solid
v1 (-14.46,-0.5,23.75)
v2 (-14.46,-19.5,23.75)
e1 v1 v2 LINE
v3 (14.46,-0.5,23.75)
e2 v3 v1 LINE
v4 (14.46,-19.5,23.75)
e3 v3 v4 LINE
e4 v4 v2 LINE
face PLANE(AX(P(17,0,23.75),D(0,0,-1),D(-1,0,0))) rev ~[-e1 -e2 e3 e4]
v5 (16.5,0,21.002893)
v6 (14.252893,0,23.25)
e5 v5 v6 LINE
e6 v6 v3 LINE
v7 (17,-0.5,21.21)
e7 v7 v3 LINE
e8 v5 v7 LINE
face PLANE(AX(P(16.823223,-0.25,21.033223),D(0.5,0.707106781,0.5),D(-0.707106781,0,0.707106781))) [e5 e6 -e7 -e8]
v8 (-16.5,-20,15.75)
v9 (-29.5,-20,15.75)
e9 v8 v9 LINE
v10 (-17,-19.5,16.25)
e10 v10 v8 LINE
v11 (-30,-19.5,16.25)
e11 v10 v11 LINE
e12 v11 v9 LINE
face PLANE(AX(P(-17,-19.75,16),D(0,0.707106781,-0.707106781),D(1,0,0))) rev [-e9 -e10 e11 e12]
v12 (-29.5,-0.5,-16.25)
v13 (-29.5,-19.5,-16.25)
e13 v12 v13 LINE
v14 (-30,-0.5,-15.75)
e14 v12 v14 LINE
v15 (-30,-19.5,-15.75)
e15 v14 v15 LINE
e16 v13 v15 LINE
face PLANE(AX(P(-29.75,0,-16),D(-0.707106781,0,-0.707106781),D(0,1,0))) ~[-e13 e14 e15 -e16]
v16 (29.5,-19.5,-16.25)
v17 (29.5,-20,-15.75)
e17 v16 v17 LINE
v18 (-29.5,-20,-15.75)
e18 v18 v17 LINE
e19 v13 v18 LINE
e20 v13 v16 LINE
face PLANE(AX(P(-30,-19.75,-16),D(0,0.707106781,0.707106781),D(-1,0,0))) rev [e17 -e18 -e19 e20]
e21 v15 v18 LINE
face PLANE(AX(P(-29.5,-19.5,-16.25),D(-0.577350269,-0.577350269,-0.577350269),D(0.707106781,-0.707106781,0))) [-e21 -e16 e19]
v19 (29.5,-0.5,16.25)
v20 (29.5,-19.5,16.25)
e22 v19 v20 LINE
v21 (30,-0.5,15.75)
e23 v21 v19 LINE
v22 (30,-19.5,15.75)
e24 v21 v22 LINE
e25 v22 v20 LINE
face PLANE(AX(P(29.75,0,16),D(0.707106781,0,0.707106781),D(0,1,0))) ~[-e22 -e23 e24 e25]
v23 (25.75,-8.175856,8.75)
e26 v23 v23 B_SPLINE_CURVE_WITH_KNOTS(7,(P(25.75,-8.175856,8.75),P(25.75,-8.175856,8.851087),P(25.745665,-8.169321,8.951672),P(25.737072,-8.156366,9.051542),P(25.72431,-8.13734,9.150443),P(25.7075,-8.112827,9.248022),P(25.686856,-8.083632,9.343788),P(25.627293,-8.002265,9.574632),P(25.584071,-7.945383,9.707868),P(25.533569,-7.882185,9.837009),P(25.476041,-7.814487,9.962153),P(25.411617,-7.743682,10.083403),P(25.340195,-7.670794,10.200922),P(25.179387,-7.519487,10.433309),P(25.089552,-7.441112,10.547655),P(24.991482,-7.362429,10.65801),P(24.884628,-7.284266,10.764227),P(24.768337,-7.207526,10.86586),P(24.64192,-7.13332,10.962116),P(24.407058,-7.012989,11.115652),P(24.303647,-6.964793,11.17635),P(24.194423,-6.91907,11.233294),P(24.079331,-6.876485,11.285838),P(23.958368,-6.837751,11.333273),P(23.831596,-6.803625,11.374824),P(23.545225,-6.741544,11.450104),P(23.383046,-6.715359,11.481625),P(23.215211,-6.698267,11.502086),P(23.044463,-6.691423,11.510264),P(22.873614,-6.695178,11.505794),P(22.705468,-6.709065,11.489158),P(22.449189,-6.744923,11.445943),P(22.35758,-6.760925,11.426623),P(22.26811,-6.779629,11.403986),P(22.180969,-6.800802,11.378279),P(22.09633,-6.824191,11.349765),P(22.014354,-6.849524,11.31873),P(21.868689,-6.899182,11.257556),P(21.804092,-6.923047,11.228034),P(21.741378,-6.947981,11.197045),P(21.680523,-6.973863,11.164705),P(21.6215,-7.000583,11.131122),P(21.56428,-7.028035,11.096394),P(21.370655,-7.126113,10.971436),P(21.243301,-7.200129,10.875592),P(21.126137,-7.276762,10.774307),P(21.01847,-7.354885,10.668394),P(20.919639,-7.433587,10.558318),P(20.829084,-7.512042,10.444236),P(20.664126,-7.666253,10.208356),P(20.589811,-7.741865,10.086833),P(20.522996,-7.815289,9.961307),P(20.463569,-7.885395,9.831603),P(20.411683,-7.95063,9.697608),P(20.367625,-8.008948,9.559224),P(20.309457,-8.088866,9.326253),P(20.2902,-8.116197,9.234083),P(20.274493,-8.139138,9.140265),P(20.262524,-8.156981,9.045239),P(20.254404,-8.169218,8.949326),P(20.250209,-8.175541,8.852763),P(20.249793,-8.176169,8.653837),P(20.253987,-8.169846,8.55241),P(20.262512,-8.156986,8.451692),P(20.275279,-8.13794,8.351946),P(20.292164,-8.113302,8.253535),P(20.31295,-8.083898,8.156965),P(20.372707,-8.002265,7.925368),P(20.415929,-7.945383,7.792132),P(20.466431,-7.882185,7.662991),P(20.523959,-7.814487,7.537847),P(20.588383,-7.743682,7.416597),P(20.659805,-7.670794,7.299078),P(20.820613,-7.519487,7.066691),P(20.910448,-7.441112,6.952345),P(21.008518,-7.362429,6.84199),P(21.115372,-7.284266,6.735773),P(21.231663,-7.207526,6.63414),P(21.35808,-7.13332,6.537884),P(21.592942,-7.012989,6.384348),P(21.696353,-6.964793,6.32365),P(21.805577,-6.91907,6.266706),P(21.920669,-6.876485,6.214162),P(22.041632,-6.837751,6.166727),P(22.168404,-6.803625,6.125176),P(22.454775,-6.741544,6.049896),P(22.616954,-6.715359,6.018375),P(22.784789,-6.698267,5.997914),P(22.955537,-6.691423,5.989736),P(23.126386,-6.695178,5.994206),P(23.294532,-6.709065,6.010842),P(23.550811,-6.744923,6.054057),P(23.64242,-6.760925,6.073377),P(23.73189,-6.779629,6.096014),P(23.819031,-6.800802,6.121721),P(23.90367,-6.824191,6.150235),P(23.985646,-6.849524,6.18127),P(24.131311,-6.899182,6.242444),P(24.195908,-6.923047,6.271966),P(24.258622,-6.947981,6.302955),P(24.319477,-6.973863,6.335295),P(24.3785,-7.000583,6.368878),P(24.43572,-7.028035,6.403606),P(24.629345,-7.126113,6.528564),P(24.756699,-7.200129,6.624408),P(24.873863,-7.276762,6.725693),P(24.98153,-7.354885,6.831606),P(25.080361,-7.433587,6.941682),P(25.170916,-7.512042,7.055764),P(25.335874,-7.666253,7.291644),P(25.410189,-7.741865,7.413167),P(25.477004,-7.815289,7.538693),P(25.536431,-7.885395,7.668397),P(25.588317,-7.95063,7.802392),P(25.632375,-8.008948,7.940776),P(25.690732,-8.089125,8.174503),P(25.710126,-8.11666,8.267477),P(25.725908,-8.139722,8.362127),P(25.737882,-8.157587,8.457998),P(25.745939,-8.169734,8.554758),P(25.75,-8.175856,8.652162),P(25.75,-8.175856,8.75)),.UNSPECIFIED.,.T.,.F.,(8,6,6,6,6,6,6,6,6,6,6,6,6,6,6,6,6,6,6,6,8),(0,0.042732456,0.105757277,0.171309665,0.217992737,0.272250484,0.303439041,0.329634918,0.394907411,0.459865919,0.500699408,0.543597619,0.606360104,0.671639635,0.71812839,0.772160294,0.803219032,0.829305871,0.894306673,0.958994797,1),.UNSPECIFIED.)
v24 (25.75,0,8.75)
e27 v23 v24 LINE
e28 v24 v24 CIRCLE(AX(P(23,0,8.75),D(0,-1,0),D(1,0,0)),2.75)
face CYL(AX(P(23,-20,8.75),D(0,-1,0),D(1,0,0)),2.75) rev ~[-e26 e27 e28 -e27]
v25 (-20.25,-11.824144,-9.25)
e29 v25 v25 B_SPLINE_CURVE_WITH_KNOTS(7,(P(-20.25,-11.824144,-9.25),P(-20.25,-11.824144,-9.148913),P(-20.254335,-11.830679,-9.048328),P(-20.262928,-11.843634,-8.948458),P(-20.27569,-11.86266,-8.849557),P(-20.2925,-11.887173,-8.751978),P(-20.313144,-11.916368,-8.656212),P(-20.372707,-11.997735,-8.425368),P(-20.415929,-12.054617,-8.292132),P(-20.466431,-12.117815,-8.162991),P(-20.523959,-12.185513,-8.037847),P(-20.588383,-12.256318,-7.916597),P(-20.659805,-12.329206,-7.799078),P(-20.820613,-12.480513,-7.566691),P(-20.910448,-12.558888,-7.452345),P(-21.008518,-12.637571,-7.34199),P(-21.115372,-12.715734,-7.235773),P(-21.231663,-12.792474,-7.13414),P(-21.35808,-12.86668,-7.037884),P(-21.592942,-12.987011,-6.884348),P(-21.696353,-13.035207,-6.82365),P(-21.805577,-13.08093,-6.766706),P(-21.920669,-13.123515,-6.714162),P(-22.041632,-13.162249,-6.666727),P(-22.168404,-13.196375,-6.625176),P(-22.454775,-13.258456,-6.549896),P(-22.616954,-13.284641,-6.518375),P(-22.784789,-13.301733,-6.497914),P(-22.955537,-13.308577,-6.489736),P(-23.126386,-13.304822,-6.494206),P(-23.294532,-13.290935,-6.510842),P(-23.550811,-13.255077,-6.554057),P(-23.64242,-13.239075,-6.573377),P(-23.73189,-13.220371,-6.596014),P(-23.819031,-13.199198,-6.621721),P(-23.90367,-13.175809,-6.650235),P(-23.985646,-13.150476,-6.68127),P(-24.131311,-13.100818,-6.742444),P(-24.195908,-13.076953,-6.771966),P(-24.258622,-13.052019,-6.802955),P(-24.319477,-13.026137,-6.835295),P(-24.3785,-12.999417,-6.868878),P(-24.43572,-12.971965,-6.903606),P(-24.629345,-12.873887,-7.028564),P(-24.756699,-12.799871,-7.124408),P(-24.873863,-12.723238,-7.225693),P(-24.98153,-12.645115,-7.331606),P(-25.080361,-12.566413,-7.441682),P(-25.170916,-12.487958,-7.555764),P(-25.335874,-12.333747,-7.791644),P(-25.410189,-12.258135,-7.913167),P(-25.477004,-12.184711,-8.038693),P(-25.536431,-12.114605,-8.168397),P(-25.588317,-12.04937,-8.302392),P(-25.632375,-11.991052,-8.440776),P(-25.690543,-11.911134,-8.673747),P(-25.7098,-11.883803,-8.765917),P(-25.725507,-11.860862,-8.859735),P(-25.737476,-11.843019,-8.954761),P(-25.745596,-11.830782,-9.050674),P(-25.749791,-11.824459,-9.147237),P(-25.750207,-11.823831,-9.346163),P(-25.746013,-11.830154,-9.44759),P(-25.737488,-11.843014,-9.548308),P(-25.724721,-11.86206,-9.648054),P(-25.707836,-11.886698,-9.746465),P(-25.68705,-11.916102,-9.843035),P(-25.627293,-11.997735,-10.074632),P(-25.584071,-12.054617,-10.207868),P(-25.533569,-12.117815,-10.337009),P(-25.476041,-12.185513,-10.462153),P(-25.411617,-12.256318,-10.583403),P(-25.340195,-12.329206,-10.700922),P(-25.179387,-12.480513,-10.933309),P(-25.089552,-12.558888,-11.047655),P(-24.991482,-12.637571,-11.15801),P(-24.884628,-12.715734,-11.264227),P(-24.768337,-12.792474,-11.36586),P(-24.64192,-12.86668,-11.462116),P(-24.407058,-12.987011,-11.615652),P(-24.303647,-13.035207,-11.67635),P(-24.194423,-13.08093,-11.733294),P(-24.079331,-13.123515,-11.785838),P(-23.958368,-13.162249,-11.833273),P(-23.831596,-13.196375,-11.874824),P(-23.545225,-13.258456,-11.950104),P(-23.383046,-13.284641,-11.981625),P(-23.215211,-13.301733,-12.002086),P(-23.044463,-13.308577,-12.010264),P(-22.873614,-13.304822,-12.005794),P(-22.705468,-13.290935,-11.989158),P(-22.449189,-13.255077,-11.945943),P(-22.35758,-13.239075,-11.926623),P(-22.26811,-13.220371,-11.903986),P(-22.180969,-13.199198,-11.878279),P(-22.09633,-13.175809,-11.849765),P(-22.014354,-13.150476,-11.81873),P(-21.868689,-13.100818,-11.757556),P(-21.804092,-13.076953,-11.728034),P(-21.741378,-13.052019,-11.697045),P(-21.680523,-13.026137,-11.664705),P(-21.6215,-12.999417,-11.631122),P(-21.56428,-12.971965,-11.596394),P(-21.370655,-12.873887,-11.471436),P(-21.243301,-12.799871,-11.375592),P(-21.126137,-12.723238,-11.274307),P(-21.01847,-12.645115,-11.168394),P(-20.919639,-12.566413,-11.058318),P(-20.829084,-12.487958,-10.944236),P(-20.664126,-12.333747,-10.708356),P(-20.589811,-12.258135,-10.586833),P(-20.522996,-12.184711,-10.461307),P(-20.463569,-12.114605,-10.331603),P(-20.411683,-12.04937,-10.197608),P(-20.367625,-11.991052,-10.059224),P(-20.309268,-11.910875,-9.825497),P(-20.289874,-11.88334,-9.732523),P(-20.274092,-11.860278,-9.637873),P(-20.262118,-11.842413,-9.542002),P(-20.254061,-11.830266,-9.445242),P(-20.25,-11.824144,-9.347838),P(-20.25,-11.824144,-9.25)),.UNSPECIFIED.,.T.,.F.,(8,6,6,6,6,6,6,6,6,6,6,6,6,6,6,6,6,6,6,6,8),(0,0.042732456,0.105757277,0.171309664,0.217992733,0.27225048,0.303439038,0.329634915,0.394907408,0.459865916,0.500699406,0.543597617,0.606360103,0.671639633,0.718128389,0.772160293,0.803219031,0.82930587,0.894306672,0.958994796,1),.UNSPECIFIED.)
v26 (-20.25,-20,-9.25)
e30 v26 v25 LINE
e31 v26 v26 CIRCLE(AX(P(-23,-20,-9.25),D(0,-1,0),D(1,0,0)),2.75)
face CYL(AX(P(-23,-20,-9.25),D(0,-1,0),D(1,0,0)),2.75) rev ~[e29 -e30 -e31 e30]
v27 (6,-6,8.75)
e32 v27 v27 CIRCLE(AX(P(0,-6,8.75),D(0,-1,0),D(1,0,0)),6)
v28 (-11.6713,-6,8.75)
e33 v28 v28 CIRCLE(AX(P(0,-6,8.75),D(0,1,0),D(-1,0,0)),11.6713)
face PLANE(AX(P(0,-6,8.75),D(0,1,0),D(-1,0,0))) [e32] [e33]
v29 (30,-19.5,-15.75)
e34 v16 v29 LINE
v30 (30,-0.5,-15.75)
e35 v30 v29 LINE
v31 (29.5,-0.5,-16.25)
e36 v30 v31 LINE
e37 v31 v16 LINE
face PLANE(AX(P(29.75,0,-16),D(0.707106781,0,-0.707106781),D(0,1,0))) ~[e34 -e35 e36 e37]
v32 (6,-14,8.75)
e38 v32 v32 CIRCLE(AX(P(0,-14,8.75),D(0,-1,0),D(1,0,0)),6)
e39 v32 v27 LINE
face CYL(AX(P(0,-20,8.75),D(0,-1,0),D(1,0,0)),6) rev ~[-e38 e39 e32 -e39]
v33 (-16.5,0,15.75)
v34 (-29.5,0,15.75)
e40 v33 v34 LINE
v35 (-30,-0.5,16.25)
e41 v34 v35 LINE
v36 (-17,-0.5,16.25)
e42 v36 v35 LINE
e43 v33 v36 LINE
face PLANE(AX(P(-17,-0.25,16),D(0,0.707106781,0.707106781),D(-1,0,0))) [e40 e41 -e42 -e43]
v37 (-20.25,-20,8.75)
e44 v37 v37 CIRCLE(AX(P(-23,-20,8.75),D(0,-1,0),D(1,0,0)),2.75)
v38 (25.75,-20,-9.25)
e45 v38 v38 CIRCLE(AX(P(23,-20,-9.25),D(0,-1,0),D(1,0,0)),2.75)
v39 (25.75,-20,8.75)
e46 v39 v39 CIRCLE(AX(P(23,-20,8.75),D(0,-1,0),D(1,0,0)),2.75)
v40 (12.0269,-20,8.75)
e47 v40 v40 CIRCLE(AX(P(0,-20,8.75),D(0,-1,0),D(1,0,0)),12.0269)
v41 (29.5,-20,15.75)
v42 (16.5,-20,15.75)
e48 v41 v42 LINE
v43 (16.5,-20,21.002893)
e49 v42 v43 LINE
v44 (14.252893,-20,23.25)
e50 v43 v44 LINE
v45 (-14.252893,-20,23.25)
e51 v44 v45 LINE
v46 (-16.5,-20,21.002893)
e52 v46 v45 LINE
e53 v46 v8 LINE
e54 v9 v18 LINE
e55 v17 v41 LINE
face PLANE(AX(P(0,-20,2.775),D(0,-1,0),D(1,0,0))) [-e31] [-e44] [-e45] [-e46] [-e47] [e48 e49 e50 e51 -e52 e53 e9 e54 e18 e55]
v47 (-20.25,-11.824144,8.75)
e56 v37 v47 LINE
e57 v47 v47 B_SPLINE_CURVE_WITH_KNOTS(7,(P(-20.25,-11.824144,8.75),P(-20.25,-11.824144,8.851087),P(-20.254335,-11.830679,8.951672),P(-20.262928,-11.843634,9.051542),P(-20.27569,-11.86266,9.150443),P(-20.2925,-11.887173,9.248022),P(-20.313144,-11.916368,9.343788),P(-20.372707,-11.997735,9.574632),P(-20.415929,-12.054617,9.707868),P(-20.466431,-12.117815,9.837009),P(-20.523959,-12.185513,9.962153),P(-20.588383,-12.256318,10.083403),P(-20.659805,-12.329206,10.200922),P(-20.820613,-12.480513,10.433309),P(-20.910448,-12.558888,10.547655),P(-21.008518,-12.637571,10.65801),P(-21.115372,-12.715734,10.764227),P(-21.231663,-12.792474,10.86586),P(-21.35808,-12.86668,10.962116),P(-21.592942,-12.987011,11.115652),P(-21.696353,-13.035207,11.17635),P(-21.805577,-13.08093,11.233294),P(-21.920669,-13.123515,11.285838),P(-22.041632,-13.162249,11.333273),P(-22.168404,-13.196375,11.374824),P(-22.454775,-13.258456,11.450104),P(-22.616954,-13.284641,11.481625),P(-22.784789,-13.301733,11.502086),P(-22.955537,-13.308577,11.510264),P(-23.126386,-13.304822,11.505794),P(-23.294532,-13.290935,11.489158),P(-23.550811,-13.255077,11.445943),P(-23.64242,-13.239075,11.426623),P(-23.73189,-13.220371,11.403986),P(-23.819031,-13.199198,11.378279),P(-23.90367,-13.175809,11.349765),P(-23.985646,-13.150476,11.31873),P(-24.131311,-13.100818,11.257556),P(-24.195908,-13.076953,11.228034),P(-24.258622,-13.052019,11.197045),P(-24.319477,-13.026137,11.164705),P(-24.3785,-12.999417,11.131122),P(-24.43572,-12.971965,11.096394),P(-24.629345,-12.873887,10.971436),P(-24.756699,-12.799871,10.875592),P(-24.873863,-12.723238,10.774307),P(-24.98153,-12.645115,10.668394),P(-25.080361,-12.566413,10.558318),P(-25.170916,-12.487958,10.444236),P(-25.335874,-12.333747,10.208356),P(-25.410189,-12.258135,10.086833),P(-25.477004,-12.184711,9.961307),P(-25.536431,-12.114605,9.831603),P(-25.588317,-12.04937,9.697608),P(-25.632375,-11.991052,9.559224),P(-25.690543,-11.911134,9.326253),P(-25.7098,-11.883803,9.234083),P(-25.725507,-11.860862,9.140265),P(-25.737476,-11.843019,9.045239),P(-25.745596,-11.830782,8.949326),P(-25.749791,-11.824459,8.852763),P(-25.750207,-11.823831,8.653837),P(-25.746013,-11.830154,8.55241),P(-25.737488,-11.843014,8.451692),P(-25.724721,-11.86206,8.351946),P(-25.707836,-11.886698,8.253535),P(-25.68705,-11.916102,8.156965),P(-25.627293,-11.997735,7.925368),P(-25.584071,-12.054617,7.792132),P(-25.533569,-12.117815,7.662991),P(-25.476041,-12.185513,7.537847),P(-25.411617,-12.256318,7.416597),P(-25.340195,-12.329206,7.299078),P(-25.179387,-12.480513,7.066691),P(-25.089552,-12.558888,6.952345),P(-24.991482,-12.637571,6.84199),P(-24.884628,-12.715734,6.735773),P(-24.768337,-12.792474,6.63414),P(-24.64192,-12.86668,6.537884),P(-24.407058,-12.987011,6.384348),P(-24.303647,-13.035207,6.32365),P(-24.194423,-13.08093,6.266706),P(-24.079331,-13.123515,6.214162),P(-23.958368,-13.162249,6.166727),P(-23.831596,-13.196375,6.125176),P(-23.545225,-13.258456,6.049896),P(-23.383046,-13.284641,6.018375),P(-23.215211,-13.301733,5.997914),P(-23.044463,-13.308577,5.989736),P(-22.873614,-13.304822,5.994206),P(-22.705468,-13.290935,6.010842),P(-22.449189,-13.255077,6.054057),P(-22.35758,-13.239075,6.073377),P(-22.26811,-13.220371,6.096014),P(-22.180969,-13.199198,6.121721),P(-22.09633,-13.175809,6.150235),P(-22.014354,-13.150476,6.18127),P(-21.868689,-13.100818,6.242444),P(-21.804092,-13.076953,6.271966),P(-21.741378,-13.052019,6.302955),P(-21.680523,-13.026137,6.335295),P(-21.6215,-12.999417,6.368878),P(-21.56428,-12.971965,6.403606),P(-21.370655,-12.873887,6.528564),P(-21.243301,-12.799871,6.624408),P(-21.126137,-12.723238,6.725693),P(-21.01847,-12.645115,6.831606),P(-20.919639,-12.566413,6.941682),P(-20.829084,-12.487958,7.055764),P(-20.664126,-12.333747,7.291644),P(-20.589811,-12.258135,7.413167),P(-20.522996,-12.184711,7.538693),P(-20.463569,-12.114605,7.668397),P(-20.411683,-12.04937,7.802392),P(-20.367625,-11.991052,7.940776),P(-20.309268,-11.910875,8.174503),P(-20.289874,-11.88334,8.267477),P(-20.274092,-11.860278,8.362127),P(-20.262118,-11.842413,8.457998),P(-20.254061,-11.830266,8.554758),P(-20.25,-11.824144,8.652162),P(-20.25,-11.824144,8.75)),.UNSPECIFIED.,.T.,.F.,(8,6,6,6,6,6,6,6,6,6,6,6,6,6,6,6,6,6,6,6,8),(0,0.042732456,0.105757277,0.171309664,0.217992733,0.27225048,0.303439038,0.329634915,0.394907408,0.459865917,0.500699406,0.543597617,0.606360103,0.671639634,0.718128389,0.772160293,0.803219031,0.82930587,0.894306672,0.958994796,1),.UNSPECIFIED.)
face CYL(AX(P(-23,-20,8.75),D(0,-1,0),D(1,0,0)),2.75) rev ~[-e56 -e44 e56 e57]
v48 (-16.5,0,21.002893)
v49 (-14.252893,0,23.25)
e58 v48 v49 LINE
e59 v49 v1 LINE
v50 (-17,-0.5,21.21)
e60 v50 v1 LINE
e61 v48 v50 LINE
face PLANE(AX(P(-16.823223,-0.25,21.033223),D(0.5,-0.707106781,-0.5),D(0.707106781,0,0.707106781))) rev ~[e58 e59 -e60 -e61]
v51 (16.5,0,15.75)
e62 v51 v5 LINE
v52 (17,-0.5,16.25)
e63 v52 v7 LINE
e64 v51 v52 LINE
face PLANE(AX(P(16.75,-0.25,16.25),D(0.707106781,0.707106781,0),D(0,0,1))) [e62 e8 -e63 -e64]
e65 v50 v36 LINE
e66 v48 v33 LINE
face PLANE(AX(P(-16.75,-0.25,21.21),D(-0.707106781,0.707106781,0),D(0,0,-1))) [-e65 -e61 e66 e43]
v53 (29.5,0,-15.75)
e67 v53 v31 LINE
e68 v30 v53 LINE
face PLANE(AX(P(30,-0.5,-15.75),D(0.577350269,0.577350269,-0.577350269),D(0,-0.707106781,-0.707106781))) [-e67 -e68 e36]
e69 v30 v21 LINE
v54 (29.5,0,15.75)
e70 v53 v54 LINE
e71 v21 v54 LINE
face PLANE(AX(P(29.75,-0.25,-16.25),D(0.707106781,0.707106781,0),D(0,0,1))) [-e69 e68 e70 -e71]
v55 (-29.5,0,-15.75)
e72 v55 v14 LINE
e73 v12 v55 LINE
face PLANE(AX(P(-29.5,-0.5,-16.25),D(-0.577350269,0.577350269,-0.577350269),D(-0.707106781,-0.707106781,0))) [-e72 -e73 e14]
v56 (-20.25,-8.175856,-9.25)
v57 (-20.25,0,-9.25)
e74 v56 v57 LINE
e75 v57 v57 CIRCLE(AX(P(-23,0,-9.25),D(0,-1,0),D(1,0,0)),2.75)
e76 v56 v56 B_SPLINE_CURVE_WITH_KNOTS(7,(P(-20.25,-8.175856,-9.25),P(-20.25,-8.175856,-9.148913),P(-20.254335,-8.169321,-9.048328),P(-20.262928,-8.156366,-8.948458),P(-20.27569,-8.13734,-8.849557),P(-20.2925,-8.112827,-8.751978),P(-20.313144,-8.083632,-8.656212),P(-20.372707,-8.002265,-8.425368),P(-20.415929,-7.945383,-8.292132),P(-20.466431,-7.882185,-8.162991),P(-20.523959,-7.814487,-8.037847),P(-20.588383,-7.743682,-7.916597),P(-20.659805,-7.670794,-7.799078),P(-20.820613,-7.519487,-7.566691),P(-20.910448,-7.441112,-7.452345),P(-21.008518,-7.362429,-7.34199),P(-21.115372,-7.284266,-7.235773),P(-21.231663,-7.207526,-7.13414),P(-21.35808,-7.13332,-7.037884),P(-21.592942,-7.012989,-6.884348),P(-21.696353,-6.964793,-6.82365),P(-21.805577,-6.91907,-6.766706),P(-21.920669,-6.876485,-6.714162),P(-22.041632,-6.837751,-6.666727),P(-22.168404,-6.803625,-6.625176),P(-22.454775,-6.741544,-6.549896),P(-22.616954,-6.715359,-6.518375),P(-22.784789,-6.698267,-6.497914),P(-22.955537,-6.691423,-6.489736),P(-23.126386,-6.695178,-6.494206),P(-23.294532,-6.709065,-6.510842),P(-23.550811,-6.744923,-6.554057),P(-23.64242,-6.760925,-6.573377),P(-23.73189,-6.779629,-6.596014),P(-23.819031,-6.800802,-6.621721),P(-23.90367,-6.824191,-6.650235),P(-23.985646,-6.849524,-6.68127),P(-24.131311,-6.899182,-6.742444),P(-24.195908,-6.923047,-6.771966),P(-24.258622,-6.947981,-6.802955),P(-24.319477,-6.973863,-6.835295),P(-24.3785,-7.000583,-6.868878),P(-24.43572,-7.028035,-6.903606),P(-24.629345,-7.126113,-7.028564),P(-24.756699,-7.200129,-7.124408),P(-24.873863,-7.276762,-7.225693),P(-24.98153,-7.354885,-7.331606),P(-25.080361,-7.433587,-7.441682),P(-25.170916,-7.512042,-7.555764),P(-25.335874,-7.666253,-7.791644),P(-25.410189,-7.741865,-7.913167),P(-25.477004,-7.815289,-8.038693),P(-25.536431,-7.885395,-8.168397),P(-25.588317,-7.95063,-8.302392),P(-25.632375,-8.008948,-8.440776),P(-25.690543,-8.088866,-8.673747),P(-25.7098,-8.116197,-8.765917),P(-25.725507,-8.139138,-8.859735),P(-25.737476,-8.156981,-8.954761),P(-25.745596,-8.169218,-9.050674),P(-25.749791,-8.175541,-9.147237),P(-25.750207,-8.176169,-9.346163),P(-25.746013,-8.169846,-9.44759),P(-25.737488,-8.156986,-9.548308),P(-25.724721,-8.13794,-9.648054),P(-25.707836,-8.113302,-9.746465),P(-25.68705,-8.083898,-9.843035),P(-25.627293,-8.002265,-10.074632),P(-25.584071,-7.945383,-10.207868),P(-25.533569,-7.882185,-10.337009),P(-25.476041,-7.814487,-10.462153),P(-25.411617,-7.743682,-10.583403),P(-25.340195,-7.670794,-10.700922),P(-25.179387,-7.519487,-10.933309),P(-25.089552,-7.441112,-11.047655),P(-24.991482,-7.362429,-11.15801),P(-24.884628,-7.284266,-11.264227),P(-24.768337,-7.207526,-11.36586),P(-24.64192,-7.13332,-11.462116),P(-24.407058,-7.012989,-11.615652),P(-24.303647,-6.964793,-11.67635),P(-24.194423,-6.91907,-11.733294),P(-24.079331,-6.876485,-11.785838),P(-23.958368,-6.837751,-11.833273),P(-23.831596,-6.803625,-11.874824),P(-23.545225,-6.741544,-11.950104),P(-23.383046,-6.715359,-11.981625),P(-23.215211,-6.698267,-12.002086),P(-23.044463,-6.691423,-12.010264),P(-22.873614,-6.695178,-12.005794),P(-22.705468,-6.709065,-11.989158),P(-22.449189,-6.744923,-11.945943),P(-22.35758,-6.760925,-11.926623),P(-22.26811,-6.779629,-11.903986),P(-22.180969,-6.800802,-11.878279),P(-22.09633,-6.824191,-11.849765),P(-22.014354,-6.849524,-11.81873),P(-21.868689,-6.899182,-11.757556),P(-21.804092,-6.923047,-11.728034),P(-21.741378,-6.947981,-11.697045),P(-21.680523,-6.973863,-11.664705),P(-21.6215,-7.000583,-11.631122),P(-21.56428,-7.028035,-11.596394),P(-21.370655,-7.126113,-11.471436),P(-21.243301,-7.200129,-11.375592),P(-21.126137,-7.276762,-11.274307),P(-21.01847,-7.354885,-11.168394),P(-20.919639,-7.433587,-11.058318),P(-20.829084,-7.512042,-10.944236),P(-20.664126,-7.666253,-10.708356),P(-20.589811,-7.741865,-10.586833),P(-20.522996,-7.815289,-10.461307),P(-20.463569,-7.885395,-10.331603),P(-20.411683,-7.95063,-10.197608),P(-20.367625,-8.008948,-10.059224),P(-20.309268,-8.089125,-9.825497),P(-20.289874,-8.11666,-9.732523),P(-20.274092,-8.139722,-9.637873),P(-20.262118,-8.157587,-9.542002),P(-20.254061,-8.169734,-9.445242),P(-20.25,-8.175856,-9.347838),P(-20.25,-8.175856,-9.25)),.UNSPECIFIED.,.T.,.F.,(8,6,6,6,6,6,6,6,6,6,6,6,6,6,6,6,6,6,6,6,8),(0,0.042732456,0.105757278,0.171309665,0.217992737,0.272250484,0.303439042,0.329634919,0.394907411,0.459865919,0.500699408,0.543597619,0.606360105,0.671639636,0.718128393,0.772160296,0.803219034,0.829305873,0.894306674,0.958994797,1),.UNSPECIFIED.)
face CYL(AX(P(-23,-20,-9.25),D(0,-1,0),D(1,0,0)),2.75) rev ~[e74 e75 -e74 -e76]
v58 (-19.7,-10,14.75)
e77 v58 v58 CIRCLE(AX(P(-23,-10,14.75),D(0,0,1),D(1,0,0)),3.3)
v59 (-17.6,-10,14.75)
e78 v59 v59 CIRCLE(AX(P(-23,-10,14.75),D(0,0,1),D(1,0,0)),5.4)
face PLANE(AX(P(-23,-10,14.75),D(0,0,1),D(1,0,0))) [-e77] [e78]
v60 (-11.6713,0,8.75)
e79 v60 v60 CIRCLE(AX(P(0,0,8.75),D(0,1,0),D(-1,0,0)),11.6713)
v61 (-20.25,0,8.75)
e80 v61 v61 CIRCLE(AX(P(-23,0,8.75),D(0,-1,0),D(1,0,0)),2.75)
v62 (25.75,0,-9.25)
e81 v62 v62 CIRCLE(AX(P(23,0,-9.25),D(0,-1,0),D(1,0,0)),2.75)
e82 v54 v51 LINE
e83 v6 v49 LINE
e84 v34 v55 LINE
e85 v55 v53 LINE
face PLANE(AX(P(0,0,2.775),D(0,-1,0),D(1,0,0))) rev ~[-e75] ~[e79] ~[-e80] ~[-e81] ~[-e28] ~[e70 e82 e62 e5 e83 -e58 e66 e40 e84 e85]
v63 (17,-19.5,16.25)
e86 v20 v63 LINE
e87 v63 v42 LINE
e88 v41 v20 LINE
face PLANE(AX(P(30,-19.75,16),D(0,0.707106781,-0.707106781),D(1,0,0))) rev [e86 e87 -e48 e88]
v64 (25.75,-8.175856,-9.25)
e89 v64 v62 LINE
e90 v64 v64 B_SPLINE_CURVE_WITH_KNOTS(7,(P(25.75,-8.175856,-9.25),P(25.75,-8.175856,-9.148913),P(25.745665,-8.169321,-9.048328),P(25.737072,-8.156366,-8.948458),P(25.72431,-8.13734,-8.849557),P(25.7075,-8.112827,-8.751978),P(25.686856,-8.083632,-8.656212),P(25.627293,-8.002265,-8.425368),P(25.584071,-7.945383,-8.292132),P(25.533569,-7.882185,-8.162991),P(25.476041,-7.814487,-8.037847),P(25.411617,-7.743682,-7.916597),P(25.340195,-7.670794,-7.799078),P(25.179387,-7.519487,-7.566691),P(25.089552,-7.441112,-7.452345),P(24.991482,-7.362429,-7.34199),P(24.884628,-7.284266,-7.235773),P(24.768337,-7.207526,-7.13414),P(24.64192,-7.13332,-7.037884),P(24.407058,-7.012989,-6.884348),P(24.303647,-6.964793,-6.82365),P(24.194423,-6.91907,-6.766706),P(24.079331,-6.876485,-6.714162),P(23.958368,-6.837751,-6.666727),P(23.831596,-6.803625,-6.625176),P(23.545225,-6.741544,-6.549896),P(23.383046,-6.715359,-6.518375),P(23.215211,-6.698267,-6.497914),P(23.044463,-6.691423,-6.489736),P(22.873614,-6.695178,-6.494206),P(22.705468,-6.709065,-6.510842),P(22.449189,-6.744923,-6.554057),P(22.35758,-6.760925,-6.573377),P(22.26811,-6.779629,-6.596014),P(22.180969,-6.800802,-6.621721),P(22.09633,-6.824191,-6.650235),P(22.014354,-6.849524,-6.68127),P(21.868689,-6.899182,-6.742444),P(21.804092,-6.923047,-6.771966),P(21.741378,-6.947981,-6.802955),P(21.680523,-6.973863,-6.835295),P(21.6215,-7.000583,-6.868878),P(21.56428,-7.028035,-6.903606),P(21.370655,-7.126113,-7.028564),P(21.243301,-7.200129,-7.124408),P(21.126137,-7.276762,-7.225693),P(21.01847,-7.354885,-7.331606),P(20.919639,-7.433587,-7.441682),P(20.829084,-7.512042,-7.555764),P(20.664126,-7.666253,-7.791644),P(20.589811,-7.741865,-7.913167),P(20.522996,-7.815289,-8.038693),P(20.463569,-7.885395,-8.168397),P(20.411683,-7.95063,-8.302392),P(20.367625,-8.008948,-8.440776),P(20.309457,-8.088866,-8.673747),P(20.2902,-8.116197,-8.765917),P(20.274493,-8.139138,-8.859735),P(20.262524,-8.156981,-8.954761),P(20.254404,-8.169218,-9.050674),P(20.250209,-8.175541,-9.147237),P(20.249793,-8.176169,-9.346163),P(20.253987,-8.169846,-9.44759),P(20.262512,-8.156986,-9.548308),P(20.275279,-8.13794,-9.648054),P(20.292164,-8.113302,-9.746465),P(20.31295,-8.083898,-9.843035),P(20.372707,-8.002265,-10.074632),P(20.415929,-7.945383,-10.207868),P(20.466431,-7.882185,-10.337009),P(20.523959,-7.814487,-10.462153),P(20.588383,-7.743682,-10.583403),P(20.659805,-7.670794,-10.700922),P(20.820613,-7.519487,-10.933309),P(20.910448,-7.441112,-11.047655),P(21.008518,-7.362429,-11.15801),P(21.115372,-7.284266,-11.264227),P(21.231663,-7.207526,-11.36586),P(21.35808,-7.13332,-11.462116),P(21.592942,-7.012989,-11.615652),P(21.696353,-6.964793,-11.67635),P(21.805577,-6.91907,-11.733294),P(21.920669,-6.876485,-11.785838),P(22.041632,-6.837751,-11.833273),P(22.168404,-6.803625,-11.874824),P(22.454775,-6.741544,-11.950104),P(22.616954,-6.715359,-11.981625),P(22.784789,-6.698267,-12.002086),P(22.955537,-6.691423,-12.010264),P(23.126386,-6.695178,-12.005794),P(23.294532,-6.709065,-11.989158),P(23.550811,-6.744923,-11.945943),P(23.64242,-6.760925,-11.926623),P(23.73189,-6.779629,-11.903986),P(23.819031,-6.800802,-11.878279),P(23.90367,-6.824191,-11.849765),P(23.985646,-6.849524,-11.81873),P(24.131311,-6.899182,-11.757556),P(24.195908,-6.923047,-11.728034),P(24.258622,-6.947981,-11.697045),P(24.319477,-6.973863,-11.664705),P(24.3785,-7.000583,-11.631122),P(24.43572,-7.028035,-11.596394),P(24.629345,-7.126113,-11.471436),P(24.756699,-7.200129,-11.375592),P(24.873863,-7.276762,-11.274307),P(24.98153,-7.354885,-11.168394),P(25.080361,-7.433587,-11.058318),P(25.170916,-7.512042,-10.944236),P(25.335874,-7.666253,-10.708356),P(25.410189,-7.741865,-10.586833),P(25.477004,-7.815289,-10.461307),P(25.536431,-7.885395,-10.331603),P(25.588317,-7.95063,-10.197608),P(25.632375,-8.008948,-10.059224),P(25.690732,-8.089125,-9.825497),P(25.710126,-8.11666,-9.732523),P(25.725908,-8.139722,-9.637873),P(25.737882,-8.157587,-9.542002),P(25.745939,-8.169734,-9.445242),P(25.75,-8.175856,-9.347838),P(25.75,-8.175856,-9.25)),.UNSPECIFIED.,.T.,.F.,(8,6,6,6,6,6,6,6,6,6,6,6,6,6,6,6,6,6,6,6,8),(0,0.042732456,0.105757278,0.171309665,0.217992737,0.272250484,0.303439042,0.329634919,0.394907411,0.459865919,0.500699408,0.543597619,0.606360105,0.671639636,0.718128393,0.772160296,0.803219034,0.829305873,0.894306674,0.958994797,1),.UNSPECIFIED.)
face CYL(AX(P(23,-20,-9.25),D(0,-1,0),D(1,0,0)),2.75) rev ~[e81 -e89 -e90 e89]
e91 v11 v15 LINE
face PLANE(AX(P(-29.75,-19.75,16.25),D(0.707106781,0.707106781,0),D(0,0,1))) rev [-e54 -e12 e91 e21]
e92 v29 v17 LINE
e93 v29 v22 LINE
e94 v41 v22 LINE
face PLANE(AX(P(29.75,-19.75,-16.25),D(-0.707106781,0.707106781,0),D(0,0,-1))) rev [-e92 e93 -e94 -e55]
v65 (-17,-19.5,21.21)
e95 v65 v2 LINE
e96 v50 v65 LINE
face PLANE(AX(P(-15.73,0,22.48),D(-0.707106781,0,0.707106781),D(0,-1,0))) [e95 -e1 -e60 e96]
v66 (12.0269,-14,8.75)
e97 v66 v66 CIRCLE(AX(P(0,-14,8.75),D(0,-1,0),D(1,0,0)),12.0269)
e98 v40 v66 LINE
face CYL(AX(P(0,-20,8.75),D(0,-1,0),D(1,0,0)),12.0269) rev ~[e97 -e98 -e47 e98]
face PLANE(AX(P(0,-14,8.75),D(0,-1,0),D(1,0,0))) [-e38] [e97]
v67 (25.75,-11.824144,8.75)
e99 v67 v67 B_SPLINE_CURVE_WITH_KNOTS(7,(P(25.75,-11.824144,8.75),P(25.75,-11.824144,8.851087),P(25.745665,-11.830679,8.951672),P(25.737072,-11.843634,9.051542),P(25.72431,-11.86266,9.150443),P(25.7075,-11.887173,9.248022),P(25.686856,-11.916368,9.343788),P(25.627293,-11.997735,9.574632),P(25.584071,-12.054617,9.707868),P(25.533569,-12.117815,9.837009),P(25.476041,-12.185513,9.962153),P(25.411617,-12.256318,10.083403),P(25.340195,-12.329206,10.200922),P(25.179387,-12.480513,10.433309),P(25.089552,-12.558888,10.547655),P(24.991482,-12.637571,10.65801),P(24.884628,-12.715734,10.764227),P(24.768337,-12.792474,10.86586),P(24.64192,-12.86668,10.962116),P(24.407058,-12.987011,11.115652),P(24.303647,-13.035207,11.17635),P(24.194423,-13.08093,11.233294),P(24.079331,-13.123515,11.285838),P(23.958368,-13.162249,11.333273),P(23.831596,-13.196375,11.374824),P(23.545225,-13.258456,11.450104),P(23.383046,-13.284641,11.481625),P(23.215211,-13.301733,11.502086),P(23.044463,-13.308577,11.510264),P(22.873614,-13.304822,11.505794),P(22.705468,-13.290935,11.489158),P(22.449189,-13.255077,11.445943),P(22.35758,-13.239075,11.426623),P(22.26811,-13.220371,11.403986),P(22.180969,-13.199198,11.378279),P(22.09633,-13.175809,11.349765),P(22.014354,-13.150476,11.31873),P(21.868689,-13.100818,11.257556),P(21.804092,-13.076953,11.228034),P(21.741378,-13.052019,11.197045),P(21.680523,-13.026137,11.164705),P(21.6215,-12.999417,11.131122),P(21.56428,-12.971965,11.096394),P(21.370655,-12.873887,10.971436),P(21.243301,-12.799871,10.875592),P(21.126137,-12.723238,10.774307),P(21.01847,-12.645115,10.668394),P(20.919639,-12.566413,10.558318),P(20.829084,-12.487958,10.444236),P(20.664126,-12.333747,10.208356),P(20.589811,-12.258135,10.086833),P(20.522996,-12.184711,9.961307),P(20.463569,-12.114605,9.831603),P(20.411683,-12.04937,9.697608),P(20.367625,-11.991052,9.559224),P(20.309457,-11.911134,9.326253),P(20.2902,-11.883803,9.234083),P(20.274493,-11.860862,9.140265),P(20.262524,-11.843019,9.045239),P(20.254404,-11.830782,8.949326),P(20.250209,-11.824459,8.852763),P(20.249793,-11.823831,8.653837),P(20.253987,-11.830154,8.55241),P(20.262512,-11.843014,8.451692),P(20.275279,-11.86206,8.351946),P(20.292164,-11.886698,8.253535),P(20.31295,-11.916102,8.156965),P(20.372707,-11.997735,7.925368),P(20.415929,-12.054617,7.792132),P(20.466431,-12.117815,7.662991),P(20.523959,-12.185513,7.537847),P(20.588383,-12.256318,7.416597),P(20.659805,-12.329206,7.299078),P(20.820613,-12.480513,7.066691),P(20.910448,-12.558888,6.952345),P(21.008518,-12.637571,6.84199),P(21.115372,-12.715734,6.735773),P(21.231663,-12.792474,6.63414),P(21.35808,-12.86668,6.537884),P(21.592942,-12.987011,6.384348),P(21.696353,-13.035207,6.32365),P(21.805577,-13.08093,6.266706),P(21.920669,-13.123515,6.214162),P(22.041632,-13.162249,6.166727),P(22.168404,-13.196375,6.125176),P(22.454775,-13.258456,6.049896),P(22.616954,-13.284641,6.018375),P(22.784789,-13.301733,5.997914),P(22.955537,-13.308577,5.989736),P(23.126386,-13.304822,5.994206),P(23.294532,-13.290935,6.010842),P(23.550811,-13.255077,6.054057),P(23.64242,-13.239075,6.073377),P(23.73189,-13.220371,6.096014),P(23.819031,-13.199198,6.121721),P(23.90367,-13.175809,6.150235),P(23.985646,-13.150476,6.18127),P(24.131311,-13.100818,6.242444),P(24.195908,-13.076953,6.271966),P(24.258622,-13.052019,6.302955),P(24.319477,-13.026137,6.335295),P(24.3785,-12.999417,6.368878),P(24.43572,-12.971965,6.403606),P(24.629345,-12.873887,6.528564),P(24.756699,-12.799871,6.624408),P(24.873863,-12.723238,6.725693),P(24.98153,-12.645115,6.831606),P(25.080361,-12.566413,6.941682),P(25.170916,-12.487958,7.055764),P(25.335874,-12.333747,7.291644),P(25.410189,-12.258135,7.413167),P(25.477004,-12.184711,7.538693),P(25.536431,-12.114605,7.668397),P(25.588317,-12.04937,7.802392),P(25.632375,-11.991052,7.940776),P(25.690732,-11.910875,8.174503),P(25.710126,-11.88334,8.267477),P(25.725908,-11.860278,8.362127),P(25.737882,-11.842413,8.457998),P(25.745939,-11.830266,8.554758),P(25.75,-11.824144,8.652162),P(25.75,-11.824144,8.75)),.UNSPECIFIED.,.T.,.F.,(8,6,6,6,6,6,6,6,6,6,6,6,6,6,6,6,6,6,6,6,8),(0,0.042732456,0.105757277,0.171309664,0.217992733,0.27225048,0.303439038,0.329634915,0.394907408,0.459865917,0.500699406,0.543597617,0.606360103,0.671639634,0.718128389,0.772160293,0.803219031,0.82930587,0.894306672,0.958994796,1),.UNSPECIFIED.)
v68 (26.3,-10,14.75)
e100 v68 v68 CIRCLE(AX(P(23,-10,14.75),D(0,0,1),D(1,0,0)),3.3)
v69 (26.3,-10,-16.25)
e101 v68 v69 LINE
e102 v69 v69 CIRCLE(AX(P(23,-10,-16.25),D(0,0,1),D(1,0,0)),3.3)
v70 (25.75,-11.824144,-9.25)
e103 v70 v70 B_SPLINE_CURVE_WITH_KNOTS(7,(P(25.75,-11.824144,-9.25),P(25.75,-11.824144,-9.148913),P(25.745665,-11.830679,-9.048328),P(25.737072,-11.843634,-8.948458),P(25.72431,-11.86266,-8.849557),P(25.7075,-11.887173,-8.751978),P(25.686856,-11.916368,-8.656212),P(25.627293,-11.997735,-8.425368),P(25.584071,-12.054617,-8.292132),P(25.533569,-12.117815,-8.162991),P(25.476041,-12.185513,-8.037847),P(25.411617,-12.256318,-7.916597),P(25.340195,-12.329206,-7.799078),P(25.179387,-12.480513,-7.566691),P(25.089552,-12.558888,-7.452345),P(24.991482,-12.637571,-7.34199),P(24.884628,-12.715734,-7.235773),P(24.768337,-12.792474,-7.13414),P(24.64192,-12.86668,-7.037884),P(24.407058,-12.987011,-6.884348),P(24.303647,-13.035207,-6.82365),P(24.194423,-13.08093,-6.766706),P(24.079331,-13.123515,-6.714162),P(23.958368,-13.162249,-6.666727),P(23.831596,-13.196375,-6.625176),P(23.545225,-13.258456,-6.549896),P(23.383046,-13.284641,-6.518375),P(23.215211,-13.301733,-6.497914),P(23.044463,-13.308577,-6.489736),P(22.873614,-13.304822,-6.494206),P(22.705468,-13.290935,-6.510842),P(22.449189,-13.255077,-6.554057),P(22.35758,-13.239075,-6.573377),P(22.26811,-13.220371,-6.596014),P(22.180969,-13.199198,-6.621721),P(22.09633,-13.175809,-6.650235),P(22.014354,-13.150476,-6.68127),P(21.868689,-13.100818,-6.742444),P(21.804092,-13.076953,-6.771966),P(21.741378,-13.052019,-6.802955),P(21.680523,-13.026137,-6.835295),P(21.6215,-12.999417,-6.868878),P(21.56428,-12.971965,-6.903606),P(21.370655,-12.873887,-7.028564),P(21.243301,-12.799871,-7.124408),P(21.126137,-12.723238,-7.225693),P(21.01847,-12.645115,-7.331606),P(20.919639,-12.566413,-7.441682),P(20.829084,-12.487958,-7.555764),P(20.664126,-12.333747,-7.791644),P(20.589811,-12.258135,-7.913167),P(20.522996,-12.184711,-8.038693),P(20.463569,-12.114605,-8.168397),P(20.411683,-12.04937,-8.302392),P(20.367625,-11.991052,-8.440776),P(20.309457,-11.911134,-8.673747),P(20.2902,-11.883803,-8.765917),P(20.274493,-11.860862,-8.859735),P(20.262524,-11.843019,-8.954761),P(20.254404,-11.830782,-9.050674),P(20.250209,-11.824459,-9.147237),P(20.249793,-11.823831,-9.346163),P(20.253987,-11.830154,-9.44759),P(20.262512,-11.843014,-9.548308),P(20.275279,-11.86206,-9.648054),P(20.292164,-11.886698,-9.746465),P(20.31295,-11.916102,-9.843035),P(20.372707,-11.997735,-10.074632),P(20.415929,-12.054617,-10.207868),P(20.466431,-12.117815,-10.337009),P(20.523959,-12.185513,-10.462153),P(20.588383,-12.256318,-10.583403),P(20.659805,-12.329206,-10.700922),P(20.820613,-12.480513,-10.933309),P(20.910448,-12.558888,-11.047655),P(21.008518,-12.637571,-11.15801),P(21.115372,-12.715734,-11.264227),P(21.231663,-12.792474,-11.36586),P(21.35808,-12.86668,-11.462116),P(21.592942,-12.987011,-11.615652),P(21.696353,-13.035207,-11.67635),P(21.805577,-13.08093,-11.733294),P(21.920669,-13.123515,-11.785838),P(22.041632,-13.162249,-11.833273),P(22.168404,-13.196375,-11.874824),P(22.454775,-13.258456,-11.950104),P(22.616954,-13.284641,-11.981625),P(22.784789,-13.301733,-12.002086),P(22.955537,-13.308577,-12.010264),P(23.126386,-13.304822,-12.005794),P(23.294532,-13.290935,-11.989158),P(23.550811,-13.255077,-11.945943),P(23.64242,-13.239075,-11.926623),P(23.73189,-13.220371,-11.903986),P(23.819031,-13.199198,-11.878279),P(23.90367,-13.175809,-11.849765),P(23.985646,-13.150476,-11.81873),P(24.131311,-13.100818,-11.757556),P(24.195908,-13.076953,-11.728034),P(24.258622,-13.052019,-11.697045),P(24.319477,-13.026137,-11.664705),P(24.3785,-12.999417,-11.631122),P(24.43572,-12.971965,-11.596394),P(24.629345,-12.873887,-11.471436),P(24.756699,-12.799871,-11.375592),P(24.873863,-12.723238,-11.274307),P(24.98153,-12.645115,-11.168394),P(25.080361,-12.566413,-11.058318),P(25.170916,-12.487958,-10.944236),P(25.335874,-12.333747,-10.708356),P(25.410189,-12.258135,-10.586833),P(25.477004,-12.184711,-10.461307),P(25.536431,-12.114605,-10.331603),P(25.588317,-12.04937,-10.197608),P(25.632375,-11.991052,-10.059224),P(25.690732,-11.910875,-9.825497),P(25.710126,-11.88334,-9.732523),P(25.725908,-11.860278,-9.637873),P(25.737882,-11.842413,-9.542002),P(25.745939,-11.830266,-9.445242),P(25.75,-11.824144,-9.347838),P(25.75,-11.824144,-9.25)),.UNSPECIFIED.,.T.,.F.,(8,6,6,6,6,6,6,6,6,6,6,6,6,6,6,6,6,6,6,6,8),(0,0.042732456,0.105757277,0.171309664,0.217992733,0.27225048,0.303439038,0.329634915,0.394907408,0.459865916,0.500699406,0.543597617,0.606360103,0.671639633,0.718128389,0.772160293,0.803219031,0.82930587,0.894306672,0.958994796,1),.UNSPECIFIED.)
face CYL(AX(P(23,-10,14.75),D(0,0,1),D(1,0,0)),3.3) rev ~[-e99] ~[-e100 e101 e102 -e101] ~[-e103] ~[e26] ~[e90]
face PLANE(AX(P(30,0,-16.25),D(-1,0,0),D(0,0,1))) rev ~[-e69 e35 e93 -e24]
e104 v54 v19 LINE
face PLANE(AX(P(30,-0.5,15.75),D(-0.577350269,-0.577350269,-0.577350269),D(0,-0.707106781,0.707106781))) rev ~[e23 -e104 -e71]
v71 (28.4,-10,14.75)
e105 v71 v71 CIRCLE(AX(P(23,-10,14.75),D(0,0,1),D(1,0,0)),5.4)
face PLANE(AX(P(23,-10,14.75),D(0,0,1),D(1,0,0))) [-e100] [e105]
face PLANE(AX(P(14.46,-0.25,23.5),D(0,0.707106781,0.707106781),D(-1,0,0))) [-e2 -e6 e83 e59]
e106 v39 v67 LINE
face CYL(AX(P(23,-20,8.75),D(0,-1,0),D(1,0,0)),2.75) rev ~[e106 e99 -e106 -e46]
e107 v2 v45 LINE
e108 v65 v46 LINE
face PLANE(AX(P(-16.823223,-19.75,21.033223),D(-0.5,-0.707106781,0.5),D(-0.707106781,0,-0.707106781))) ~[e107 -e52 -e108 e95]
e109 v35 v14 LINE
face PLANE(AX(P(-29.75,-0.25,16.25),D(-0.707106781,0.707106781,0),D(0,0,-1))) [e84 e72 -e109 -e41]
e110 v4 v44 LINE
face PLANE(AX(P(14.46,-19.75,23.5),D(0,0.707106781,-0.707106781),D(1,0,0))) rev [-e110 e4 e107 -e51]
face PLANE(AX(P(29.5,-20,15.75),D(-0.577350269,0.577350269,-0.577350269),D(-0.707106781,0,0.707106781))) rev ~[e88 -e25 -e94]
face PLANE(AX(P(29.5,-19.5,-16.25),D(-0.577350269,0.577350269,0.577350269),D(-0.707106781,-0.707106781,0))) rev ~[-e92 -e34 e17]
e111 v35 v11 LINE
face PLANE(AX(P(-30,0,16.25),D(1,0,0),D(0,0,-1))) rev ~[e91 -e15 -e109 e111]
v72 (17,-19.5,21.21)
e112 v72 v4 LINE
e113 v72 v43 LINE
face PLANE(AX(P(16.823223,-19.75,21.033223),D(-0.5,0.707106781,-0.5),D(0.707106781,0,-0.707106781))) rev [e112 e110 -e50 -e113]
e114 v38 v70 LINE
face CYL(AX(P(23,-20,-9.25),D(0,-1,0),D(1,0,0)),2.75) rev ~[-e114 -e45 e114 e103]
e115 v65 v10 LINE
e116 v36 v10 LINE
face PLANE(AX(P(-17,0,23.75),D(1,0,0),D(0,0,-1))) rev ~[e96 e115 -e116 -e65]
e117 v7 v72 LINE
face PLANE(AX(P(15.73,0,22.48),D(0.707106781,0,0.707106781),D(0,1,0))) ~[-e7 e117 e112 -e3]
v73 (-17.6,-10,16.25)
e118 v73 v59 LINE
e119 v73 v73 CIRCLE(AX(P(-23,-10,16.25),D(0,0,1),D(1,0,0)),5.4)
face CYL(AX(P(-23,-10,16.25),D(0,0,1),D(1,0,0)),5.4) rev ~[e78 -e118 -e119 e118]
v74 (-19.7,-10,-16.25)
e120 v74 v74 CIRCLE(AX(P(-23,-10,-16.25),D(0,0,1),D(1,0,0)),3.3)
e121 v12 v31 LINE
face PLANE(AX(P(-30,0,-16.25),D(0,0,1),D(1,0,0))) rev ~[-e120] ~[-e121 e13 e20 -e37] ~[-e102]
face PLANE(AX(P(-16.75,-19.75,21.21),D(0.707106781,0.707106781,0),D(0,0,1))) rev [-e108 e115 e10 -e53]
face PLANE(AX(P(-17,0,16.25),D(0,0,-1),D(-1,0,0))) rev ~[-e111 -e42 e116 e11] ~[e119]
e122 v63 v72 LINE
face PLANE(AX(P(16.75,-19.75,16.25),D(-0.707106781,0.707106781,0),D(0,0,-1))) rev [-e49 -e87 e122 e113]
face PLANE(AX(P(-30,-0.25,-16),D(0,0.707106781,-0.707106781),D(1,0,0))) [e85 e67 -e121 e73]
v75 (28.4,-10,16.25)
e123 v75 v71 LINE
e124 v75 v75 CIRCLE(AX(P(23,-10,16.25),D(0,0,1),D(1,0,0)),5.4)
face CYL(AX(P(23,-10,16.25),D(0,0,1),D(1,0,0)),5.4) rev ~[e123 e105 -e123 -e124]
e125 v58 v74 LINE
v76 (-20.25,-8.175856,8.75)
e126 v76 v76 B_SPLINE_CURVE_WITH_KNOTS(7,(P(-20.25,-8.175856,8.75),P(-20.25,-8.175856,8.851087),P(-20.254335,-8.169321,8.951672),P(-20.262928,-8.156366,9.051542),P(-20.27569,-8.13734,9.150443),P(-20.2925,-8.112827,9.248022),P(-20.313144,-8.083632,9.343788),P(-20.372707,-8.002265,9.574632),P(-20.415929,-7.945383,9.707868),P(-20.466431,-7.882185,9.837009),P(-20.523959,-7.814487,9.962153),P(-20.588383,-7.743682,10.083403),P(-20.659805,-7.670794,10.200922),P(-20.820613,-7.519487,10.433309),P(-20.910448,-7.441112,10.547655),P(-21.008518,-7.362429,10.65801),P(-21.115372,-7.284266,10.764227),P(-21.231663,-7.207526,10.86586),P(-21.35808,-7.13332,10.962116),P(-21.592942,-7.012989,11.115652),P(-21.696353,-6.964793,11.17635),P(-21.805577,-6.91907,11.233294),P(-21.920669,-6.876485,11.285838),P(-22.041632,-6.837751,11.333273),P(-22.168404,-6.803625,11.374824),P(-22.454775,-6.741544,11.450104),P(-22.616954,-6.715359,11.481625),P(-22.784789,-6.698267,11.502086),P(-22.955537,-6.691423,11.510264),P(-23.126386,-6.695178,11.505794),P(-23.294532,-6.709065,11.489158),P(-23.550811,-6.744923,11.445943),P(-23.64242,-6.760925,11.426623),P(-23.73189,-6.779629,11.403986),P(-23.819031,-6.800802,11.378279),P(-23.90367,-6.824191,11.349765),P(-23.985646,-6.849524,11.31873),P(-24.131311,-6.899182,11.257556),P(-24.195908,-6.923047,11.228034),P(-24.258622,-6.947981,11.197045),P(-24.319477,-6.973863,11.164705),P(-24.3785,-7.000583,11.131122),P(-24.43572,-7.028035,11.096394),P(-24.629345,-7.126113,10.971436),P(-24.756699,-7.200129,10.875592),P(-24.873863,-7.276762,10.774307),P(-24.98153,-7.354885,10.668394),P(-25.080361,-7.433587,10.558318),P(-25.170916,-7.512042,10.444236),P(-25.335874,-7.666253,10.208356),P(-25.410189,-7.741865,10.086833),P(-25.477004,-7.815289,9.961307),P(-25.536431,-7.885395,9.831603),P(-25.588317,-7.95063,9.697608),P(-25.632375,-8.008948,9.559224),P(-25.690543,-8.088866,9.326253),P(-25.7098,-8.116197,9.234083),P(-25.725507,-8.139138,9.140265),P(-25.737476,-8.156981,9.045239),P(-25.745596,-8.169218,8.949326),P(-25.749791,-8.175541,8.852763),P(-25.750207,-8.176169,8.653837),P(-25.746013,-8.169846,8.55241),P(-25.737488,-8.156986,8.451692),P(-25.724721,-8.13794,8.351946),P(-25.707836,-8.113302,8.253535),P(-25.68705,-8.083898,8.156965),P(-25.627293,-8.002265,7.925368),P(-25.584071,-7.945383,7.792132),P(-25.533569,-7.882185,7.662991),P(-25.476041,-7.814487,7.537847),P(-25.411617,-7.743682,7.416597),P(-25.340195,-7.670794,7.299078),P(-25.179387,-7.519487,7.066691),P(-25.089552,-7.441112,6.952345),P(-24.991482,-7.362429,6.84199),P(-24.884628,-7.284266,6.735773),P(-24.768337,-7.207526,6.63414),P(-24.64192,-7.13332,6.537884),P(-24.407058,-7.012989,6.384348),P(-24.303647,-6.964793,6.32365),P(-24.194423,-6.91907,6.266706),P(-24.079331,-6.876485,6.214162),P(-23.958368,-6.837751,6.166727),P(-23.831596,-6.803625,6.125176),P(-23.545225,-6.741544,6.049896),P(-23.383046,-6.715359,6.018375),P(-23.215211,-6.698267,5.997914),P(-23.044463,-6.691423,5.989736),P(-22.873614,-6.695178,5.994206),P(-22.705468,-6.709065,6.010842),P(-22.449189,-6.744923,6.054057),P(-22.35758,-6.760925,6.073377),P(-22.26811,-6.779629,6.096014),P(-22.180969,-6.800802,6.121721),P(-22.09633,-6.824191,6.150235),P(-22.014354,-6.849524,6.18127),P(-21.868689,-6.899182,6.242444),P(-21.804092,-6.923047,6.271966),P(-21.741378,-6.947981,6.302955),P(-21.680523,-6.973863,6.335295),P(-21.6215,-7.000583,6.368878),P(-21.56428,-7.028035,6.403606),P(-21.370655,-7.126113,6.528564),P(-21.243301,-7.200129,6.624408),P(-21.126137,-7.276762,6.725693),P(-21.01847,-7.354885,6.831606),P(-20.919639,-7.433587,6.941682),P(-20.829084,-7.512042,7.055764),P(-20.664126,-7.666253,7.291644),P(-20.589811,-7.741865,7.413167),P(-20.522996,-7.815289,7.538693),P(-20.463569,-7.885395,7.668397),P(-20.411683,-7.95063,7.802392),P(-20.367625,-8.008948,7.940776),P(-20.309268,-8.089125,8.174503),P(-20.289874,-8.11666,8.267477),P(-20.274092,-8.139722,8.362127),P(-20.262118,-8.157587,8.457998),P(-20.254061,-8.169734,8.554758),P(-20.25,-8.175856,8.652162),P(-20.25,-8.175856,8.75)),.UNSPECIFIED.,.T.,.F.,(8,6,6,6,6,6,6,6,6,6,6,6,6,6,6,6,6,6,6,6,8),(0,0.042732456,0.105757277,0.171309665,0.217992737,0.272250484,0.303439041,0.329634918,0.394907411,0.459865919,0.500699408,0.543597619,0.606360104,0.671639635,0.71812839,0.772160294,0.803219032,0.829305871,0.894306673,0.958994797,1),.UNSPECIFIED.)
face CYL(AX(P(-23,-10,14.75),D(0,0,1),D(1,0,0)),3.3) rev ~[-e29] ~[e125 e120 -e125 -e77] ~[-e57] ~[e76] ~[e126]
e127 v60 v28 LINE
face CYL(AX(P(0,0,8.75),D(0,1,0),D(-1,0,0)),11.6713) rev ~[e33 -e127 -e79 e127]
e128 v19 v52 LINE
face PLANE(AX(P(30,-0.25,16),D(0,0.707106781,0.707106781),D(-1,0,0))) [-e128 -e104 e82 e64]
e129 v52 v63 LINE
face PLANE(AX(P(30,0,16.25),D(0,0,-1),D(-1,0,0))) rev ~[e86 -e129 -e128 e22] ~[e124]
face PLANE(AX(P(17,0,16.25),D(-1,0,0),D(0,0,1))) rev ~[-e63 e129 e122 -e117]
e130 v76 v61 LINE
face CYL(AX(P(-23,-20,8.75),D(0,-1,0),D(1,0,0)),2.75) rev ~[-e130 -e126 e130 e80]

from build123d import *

# Parameters (mm, degrees)
F1_DEPTH  = 20
F2_R      = 6
F2_R_2    = 2.75
F3_DEPTH  = 20.001
F4_R      = 5.4
F5_DEPTH  = 1.5
F6_R      = 3.3
F7_DEPTH  = 31.001
F8_R      = 12.0269
F9_DEPTH  = 6
F10_R     = 11.6713
F11_DEPTH = 6
F12_SIZE  = 2.54
F13_SIZE  = 0.5


with BuildPart() as f1:
    # F0 (on Front) → F1 (new body)
    with BuildSketch(Plane.XZ):
        Polygon((-30, -16.25), (30, -16.25), (30, 16.25), (17, 16.25), (17, 23.75), (-17, 23.75), (-17, 16.25), (-30, 16.25), align=None)
    extrude(amount=F1_DEPTH)

    # F2 (on face) → F3 (cut, through all)
    with BuildSketch(Plane.XZ.offset(20)):
        with Locations((0, 8.75)):
            Circle(F2_R)
        with Locations((-23, 8.75)):
            Circle(F2_R_2)
        with Locations((-23, -9.25)):
            Circle(F2_R_2)
        with Locations((23, 8.75)):
            Circle(F2_R_2)
        with Locations((23, -9.25)):
            Circle(F2_R_2)
    extrude(amount=-F3_DEPTH, mode=Mode.SUBTRACT)

    # F4 (on face) → F5 (cut)
    with BuildSketch(Plane.XY.offset(16.25)):
        with Locations((-23, -10)):
            Circle(F4_R)
        with Locations((23, -10)):
            Circle(F4_R)
    extrude(amount=-F5_DEPTH, mode=Mode.SUBTRACT)

    # F6 (on face) → F7 (cut, through all)
    with BuildSketch(Plane.XY.offset(14.75)):
        with Locations((-23, -10)):
            Circle(F6_R)
        with Locations((23, -10)):
            Circle(F6_R)
    extrude(amount=-F7_DEPTH, mode=Mode.SUBTRACT)

    # F8 (on face) → F9 (cut)
    with BuildSketch(Plane.XZ.offset(20)):
        with Locations((0, 8.75)):
            Circle(F8_R)
    extrude(amount=-F9_DEPTH, mode=Mode.SUBTRACT)

    # F10 (on face) → F11 (cut)
    with BuildSketch(Plane(origin=(0, 0, 0), x_dir=(-1, 0, 0), z_dir=(0, 1, 0))):
        with Locations((0, 8.75)):
            Circle(F10_R)
    extrude(amount=-F11_DEPTH, mode=Mode.SUBTRACT)

    # F12
    f12_edges = [f1.edges().sort_by_distance(p)[0] for p in [
        (17, -10, 23.75),
        (-17, -10, 23.75),
    ]]
    chamfer(f12_edges, length=F12_SIZE)

    # F13
    f13_edges = [f1.edges().sort_by_distance(p)[0] for p in [
        (23.5, 0, 16.25),
        (17, 0, 18.73),
        (15.73, 0, 22.48),
        (0, 0, 23.75),
        (-15.73, 0, 22.48),
        (-17, 0, 18.73),
        (-23.5, 0, 16.25),
        (-30, 0, 0),
        (0, 0, -16.25),
        (30, 0, 0),
        (30, -10, 16.25),
        (30, -20, 0),
        (30, -10, -16.25),
        (23.5, -20, 16.25),
        (17, -20, 18.73),
        (15.73, -20, 22.48),
        (0, -20, 23.75),
        (-15.73, -20, 22.48),
        (-17, -20, 18.73),
        (-23.5, -20, 16.25),
        (-30, -20, 0),
        (-30, -10, -16.25),
        (0, -20, -16.25),
    ]]
    chamfer(f13_edges, length=F13_SIZE)


solid = f1.part
